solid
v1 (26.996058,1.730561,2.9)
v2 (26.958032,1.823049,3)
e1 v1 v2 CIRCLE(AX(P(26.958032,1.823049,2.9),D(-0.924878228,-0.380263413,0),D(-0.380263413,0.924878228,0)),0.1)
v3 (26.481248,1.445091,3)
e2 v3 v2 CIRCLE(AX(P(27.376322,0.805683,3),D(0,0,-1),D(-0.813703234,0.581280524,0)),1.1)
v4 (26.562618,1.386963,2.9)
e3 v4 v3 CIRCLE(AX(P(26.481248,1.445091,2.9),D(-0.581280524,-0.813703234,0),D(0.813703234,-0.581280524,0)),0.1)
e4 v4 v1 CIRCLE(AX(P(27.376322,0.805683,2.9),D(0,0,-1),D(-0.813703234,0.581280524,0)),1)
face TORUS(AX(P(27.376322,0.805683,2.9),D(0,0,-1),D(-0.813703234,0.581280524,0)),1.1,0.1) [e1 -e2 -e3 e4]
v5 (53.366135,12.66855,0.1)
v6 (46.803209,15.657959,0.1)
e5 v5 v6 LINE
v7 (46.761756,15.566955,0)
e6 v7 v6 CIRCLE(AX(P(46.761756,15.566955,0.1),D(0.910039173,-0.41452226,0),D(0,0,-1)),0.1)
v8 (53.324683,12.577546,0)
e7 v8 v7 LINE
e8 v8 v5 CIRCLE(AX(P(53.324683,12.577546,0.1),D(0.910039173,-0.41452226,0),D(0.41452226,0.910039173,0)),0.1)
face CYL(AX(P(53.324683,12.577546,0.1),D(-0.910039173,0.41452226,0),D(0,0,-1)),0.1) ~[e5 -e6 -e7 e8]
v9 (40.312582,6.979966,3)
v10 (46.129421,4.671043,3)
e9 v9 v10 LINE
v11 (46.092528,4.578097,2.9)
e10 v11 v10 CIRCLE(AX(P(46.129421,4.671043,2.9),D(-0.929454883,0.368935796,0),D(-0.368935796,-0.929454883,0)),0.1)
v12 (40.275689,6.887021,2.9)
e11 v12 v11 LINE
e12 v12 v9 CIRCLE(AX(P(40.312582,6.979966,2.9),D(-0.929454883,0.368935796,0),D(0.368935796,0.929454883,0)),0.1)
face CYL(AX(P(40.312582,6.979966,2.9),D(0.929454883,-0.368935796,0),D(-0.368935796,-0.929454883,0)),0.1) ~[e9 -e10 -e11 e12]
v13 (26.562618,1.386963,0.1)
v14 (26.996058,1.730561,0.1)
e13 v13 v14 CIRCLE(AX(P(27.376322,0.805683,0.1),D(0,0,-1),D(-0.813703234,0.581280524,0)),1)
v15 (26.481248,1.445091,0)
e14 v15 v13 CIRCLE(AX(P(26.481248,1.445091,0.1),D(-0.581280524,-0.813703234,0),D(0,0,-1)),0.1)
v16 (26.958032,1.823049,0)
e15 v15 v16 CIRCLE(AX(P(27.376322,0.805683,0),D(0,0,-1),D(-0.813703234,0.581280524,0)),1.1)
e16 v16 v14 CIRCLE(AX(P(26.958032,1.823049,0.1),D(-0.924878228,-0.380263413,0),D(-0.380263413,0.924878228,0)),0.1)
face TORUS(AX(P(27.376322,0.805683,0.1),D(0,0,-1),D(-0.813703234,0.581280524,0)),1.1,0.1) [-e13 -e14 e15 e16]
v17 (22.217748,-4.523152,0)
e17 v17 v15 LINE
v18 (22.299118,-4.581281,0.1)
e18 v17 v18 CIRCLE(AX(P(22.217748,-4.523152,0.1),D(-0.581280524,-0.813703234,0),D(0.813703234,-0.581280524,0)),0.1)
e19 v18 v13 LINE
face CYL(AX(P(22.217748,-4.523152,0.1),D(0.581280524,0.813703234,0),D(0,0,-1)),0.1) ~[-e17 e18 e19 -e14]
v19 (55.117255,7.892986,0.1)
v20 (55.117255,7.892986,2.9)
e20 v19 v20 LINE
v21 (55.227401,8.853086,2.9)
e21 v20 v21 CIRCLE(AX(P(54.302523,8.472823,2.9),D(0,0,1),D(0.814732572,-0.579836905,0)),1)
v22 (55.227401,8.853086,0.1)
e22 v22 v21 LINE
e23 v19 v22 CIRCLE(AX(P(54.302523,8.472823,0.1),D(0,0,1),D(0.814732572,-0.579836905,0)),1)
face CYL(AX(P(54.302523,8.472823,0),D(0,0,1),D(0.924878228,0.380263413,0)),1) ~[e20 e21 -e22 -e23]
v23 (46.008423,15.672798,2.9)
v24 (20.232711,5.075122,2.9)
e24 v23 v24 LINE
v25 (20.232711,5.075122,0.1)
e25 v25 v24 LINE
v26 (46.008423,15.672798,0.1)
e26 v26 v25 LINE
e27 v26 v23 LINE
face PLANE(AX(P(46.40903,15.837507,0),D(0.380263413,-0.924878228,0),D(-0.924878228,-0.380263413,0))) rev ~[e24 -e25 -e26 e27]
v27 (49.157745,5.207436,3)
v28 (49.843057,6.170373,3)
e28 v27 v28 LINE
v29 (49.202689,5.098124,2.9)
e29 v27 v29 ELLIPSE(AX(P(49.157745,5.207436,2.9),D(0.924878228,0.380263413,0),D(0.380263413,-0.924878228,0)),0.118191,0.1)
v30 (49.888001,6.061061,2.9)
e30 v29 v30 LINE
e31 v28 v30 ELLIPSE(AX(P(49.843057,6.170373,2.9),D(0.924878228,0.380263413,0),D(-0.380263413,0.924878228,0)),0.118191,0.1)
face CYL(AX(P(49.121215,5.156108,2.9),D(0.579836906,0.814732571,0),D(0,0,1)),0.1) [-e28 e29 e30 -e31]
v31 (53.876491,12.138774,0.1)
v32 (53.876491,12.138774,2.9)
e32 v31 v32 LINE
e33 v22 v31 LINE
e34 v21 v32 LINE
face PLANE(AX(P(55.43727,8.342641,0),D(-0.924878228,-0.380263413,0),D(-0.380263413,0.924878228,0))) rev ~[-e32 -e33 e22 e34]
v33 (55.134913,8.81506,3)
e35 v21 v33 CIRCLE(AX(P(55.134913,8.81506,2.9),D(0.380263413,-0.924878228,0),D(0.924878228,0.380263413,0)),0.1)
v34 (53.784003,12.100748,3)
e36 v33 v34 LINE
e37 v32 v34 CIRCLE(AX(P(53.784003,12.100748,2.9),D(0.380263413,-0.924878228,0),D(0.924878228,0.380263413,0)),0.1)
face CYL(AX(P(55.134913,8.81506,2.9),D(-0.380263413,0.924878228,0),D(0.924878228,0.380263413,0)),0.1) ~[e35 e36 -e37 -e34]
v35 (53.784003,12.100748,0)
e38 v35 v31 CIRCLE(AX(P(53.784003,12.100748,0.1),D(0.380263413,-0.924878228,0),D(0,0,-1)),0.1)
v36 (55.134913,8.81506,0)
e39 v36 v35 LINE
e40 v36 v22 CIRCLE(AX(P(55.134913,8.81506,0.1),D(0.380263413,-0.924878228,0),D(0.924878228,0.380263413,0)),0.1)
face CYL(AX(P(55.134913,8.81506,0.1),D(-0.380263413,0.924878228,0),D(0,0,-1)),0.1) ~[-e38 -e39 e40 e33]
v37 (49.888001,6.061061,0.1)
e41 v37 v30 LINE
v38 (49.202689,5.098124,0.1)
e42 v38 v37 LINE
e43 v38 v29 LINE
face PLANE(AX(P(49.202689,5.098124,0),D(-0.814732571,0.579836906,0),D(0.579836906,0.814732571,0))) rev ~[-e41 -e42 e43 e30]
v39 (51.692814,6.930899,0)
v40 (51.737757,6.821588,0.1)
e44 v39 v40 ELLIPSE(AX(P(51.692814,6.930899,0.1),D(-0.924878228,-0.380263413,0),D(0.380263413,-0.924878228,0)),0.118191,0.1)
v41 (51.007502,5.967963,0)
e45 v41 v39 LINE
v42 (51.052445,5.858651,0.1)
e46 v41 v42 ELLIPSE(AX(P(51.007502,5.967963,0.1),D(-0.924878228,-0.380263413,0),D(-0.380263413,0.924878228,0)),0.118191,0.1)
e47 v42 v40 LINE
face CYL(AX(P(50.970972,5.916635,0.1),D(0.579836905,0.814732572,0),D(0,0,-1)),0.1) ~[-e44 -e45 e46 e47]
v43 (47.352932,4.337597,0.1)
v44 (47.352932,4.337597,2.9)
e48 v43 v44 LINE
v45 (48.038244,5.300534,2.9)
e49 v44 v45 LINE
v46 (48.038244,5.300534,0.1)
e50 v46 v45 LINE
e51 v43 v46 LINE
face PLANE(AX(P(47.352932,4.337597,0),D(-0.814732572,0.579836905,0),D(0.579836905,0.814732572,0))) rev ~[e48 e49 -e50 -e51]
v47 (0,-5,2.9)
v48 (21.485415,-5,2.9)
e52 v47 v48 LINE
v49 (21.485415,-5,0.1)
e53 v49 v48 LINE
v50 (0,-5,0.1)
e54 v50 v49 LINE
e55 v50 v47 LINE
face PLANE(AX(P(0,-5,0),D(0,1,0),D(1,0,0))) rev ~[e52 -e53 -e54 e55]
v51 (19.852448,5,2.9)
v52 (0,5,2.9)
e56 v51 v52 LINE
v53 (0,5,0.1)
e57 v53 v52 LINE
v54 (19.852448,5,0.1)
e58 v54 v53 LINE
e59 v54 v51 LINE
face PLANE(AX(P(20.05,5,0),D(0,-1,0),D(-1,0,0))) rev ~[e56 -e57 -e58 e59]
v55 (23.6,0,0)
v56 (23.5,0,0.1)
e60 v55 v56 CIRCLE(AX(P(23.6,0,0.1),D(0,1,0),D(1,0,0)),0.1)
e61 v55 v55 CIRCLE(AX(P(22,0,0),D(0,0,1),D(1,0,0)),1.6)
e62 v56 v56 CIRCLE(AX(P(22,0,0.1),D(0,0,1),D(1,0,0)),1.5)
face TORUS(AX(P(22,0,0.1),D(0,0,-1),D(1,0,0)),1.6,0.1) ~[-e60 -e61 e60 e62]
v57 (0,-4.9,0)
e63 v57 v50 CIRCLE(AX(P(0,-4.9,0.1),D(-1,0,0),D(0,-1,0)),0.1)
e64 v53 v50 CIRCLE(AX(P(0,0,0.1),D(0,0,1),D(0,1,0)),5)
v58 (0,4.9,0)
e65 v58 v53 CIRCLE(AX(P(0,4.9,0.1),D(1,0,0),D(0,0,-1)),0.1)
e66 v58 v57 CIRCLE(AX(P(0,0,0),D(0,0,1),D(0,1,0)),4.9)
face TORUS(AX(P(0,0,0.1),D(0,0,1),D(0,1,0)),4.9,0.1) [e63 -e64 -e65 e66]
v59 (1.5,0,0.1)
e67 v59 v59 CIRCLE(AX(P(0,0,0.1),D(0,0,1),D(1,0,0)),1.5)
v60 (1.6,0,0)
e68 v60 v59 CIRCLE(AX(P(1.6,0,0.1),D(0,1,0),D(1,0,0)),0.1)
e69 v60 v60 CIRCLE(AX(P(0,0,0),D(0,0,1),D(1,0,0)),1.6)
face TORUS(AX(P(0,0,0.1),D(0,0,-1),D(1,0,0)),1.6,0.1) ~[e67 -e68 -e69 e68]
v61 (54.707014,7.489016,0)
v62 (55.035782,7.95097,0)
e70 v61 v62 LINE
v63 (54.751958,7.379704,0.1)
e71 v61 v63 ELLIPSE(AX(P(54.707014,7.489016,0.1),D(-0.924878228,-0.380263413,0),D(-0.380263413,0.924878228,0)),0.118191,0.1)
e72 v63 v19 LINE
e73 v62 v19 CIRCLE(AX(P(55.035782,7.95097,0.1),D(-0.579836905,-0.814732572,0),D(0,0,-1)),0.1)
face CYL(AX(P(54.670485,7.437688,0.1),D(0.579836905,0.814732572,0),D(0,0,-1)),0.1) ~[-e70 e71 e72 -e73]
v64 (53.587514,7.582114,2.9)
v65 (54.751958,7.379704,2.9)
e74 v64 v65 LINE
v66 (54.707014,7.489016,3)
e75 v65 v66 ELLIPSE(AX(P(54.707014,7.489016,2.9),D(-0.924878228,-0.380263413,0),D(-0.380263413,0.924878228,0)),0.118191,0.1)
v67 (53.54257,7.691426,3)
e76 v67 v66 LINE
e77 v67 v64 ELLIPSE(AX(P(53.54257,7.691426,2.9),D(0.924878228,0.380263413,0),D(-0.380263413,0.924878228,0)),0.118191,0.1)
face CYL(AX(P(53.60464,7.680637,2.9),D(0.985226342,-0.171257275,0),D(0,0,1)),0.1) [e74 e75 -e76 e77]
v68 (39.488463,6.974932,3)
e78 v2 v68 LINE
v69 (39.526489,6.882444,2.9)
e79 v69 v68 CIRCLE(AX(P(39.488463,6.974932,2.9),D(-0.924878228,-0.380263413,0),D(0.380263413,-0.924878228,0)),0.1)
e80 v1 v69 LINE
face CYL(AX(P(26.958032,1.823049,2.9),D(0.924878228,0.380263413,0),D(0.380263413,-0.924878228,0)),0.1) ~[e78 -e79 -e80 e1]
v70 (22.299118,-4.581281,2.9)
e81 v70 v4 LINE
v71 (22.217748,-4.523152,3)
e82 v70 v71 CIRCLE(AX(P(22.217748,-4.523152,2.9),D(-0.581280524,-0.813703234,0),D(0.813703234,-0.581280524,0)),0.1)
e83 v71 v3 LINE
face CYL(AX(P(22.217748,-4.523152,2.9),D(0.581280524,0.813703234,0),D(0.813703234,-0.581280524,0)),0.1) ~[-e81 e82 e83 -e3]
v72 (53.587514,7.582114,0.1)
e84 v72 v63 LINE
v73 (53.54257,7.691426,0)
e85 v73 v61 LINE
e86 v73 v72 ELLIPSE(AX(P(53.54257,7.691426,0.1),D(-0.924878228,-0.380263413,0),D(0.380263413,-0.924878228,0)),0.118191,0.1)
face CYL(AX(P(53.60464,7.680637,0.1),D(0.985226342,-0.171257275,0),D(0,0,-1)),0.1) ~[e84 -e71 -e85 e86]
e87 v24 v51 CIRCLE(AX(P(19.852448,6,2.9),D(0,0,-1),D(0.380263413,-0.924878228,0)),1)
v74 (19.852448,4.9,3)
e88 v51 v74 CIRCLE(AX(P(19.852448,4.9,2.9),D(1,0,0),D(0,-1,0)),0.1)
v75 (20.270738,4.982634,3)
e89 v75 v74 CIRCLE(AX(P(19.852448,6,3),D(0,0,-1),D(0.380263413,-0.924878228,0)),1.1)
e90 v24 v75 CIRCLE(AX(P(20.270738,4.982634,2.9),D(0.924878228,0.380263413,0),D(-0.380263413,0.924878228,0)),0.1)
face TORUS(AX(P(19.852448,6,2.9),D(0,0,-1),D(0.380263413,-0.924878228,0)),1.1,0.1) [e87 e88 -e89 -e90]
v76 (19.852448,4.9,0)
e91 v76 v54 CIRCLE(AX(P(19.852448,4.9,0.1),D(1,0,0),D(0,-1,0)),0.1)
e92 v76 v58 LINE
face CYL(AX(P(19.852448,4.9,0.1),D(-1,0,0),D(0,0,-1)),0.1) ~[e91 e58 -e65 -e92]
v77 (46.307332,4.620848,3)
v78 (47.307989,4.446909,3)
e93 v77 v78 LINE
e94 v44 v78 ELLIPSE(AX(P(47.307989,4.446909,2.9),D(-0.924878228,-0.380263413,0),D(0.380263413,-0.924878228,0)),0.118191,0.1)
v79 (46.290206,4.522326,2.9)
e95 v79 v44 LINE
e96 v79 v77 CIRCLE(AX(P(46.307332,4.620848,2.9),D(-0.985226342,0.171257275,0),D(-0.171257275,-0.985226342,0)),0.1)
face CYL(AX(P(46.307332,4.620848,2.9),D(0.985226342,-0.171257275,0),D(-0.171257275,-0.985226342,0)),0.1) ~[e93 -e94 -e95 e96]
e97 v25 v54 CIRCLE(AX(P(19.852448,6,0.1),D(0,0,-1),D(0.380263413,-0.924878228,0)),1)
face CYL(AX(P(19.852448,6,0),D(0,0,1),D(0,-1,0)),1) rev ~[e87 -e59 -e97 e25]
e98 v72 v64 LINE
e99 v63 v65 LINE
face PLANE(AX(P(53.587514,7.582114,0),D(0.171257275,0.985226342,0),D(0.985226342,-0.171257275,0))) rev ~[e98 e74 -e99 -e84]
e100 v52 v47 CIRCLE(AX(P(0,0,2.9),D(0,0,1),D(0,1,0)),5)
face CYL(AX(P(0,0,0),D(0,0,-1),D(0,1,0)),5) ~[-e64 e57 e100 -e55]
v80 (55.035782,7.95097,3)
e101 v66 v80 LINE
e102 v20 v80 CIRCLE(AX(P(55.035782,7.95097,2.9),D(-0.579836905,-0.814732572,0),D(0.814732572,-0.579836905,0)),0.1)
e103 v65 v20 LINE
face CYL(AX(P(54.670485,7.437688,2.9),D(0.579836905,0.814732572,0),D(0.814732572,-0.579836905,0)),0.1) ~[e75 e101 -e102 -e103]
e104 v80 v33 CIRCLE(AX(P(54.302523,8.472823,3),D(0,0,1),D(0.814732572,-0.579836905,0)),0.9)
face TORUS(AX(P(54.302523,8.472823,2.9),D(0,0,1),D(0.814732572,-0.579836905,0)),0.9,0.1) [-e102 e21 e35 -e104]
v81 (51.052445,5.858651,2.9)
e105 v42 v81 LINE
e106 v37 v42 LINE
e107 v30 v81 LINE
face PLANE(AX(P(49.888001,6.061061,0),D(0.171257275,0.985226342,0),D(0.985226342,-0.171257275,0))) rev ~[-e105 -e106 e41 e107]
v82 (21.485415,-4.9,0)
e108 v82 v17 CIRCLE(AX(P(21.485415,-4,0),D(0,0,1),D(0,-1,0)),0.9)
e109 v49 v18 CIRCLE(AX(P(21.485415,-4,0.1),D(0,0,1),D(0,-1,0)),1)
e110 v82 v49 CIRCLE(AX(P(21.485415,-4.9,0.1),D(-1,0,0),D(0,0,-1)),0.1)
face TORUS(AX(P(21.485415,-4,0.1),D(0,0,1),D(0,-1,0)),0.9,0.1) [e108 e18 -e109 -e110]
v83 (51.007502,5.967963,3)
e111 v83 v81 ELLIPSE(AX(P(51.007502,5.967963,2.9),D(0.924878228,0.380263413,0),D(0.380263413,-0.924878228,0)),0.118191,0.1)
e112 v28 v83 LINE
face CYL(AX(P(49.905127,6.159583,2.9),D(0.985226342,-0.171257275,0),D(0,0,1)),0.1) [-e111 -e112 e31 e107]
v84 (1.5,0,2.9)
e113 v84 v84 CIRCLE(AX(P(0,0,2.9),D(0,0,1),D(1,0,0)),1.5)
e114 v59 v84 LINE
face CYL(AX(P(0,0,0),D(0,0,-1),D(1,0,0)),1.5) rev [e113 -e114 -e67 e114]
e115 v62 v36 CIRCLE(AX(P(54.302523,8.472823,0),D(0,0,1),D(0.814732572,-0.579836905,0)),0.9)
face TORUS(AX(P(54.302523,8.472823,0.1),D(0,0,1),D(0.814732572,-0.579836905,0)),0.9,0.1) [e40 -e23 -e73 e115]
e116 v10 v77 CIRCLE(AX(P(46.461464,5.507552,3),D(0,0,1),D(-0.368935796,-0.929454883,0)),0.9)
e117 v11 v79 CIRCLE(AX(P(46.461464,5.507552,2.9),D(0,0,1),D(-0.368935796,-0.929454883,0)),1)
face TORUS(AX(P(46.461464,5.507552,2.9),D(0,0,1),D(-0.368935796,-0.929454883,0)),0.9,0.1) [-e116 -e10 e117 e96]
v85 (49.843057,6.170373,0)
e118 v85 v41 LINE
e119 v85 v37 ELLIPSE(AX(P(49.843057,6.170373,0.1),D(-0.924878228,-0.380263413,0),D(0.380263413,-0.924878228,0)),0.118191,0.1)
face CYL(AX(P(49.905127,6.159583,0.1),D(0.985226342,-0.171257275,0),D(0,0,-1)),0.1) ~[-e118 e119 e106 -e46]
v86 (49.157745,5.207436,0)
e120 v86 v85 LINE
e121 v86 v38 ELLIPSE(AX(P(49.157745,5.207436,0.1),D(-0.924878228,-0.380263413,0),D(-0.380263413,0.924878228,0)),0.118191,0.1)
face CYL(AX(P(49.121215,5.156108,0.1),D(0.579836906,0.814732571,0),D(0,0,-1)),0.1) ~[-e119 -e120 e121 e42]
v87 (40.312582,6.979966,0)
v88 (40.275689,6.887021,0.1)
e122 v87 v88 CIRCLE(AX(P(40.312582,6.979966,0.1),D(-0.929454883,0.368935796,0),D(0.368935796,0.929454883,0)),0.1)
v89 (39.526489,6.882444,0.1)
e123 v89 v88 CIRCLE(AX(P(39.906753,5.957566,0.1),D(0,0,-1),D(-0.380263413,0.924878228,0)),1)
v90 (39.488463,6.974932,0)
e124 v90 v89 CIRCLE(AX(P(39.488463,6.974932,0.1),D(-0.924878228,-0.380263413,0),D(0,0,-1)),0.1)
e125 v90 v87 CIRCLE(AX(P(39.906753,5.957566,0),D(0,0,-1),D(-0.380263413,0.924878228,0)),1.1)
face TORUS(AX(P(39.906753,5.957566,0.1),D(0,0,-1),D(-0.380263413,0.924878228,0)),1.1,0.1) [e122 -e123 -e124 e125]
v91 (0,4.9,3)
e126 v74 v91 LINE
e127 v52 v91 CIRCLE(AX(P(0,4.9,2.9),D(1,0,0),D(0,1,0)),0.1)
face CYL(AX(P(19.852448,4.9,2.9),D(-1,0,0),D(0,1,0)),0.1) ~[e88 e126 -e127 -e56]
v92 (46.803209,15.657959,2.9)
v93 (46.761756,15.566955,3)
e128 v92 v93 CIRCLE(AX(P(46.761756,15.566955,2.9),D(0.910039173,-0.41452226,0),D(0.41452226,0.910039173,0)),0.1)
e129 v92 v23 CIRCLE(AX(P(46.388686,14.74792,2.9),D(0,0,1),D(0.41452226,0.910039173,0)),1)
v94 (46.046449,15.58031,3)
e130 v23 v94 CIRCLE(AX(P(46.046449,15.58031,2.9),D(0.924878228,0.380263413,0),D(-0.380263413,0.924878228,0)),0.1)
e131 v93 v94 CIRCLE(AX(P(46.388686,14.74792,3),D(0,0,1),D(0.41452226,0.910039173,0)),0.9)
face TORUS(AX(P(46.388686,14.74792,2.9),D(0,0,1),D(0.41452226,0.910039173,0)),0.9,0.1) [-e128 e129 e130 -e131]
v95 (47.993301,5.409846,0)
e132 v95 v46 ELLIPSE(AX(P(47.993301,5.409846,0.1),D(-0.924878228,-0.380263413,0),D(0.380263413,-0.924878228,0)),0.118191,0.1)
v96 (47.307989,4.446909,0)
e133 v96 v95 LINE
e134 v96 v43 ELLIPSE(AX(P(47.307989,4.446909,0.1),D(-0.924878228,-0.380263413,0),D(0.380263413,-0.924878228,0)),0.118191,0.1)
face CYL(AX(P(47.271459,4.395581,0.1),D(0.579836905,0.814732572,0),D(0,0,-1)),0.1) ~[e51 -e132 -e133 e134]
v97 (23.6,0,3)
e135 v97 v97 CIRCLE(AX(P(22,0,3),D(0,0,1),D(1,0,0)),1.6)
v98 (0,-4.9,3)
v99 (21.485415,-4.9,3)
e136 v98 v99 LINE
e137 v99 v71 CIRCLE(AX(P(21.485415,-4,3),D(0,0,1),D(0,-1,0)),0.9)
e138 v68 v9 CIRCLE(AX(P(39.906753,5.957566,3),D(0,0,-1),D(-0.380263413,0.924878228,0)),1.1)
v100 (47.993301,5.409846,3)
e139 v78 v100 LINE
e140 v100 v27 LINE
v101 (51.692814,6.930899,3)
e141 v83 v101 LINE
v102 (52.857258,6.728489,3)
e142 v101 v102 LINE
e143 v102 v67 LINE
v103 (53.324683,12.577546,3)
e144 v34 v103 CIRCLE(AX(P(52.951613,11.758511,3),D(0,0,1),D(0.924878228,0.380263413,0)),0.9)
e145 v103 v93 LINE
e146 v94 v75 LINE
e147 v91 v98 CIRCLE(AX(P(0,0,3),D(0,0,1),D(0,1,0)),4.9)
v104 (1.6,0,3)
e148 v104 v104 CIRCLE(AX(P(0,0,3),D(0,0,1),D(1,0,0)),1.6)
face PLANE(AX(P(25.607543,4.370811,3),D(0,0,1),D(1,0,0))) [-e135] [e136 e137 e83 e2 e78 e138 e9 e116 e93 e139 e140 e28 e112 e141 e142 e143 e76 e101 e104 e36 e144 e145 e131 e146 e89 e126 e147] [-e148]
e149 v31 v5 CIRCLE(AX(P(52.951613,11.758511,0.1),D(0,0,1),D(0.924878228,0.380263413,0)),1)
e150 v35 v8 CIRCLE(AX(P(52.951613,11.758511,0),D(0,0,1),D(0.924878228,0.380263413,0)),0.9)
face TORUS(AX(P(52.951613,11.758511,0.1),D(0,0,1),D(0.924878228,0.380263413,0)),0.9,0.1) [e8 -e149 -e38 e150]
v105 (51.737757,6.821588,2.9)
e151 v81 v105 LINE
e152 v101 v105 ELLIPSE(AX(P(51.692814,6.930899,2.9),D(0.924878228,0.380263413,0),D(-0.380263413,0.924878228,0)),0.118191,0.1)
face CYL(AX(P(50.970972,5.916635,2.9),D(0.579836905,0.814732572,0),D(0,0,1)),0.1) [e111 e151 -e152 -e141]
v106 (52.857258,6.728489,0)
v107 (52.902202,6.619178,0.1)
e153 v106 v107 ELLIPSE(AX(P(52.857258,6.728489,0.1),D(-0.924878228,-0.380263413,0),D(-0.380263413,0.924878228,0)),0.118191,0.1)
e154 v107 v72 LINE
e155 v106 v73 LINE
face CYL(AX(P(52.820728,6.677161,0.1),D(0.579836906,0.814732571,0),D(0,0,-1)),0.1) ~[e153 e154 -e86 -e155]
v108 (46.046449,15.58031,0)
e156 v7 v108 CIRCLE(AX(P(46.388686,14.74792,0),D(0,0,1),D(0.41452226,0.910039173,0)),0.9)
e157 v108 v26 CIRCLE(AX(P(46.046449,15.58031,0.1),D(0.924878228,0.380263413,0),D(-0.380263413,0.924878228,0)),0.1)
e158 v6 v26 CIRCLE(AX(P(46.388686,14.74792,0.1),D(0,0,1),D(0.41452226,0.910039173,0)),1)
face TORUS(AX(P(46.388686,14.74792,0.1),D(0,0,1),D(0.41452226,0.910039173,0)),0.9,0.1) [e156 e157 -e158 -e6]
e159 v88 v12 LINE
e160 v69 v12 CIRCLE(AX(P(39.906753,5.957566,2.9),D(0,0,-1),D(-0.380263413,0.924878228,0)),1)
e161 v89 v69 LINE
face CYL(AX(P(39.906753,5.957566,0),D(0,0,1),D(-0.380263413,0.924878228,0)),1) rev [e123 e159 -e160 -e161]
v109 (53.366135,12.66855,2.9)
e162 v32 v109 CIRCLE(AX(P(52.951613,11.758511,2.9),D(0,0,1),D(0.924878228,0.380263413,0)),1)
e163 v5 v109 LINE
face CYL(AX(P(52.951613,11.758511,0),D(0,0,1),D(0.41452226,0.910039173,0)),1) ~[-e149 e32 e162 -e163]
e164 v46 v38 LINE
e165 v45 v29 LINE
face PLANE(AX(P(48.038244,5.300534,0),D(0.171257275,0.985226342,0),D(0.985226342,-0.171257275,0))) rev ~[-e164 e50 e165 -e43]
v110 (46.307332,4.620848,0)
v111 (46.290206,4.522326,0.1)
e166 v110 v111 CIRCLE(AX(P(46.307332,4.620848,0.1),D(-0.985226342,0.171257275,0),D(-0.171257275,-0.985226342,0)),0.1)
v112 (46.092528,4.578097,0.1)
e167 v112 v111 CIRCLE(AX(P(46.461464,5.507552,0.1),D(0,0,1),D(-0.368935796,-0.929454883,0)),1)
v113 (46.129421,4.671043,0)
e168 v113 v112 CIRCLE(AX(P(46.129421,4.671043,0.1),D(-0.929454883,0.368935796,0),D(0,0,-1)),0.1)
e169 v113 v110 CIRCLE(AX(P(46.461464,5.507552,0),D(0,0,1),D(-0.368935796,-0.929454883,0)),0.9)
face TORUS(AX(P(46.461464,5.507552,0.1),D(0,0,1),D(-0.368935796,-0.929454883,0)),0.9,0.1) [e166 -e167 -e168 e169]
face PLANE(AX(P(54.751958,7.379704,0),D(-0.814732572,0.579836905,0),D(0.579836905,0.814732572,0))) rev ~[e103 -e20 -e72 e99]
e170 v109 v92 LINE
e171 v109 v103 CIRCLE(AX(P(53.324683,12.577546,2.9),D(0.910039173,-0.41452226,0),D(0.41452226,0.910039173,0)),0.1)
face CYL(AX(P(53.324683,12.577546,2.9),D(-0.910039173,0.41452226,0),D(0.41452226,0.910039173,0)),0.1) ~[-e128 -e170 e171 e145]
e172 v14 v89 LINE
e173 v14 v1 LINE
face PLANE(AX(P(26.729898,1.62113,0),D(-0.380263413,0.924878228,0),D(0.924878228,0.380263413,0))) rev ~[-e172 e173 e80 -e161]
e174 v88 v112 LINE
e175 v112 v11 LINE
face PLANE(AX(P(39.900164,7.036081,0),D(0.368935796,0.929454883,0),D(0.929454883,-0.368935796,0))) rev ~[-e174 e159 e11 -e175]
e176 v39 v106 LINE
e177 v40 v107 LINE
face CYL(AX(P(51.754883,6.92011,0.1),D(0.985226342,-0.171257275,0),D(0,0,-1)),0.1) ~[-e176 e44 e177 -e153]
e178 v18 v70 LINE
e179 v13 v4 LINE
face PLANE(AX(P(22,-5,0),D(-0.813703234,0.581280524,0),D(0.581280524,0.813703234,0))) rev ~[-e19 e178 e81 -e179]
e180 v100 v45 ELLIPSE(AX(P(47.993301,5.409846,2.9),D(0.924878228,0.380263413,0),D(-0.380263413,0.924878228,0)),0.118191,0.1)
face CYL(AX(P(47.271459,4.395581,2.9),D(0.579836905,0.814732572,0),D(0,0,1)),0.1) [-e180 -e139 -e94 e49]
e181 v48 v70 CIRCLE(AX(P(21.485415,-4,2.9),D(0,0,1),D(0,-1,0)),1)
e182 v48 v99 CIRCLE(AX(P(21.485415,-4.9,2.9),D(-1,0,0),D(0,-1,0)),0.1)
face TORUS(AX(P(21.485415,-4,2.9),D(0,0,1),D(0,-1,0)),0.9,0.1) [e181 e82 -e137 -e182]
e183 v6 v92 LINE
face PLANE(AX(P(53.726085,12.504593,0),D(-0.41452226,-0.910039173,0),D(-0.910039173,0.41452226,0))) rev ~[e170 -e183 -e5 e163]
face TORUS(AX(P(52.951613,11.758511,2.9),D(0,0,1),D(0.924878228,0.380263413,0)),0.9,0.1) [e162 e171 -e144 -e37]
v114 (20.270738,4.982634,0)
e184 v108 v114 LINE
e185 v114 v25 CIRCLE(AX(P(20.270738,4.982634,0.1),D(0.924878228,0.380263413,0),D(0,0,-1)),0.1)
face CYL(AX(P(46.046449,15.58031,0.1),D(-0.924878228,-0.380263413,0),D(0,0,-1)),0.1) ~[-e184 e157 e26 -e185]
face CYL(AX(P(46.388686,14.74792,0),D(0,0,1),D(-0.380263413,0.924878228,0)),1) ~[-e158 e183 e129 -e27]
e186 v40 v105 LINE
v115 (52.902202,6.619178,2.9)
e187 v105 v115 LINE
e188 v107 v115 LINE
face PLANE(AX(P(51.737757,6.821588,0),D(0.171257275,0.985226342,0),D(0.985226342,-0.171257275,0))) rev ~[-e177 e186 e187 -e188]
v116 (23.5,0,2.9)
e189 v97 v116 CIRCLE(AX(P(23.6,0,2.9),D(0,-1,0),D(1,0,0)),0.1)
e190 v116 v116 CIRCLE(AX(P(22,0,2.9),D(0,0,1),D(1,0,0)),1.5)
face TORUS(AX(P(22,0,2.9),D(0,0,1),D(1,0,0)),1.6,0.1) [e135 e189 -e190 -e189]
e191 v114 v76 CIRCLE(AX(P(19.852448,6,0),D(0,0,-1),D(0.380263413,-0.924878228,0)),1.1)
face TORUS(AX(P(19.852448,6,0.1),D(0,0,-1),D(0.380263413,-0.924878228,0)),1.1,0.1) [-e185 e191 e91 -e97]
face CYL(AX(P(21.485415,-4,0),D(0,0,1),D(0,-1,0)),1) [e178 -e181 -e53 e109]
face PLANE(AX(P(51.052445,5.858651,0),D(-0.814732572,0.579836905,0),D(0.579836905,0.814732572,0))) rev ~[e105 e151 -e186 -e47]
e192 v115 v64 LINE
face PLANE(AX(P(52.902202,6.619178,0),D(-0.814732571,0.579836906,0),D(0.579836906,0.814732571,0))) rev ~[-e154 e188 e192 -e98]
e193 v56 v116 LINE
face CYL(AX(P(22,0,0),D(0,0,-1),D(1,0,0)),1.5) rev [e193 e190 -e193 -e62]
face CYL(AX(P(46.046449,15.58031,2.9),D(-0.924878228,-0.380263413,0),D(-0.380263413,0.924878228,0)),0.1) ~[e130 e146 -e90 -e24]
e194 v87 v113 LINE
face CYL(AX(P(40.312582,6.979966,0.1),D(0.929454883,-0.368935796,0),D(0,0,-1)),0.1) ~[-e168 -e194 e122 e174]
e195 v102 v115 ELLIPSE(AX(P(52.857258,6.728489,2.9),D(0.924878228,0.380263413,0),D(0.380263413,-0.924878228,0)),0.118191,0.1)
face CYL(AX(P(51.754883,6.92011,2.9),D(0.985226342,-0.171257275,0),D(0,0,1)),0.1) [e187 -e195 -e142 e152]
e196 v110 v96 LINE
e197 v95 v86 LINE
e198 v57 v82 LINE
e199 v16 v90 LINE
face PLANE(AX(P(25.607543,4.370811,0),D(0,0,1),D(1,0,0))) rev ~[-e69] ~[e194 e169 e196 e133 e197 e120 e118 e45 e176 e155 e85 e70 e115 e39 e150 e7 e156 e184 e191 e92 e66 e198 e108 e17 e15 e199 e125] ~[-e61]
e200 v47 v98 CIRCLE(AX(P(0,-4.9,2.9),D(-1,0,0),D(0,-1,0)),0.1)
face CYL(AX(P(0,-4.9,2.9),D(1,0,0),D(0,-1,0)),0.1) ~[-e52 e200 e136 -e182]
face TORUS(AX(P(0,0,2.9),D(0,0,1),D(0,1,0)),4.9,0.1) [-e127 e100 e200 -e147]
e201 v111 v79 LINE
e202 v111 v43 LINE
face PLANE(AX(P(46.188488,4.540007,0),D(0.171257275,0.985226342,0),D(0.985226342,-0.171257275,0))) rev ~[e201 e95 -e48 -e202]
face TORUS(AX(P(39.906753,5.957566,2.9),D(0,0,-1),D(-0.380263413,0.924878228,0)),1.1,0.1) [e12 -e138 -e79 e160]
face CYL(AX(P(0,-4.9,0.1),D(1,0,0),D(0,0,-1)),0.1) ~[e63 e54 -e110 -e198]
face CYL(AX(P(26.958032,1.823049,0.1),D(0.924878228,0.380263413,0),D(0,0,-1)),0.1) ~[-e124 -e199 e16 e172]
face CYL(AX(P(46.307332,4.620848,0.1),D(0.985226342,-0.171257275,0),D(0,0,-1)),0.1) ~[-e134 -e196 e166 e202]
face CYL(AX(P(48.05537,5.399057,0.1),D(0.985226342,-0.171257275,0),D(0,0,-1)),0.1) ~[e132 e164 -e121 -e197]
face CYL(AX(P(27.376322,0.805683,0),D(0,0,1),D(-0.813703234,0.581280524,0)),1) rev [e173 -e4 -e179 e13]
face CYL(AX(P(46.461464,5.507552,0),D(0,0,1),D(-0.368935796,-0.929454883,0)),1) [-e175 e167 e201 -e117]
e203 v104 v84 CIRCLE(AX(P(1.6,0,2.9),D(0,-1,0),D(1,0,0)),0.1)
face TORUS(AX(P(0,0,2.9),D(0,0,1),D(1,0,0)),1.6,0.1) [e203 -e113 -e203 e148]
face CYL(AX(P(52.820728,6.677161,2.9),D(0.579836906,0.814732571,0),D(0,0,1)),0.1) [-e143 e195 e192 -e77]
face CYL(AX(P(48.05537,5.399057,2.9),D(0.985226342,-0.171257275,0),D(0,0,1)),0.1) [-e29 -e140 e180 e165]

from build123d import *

# Parameters (mm, degrees)
SKETCH1_R           = 1.5
BOSS_EXTRUDE1_DEPTH = 3
FILLET1_R           = 1
FILLET2_R           = 0.1


with BuildPart() as part:
    # Sketch1 → Boss-Extrude1 (new body)
    with BuildSketch(Plane.XY):
        with BuildLine():
            Line((20.05, 5), (0, 5))
            ThreePointArc((0, 5), (-5, 0), (0, -5))
            Line((0, -5), (22, -5))
            Line((22, -5), (26.72989842, 1.621129525))
            Line((26.72989842, 1.621129525), (39.900164389, 7.036080522))
            Line((39.900164389, 7.036080522), (46.188488025, 4.540007042))
            Line((46.188488025, 4.540007042), (47.352932204, 4.337597171))
            Line((47.352932204, 4.337597171), (48.038244482, 5.300533868))
            Line((48.038244482, 5.300533868), (49.20268866, 5.098123997))
            Line((49.20268866, 5.098123997), (49.888000938, 6.061060693))
            Line((49.888000938, 6.061060693), (51.052445116, 5.858650822))
            Line((51.052445116, 5.858650822), (51.737757394, 6.821587519))
            Line((51.737757394, 6.821587519), (52.902201573, 6.619177648))
            Line((52.902201573, 6.619177648), (53.587513851, 7.582114344))
            Line((53.587513851, 7.582114344), (54.751958029, 7.379704473))
            Line((54.751958029, 7.379704473), (55.437270307, 8.34264117))
            Line((55.437270307, 8.34264117), (53.72608495, 12.504593197))
            Line((53.72608495, 12.504593197), (46.409029503, 15.837507263))
            Line((46.409029503, 15.837507263), (20.05, 5))
        make_face()
        Circle(SKETCH1_R, mode=Mode.SUBTRACT)
        with Locations((22, 0)):
            Circle(SKETCH1_R, mode=Mode.SUBTRACT)
    extrude(amount=BOSS_EXTRUDE1_DEPTH)

    # Fillet1
    fillet1_edges = [part.edges().sort_by_distance(p)[0] for p in [
        (22, -5, 1.5),
        (20.05, 5, 1.5),
        (46.409029503, 15.837507263, 1.5),
        (53.72608495, 12.504593197, 1.5),
        (55.437270307, 8.34264117, 1.5),
        (46.188488025, 4.540007042, 1.5),
        (39.900164389, 7.036080522, 1.5),
        (26.72989842, 1.621129525, 1.5),
    ]]
    fillet(fillet1_edges, radius=FILLET1_R)

    # Fillet2
    fillet2_edges = [part.edges().sort_by_distance(p)[0] for p in [
        (-5, 0, 3),
        (10.742707502, -5, 3),
        (-1.5, 0, 3),
        (10.742707502, -5, 0),
        (-5, 0, 0),
        (9.926224034, 5, 0),
        (54.934606654, 7.636345233, 0),
        (54.16973594, 7.480909409, 0),
        (53.244857712, 7.100645996, 0),
        (52.319979483, 6.720382583, 0),
        (51.395101255, 6.340119171, 0),
        (50.470223027, 5.959855758, 0),
        (49.545344799, 5.579592345, 0),
        (48.620466571, 5.199328932, 0),
        (47.695588343, 4.81906552, 0),
        (-1.5, 0, 0),
        (20.5, 0, 0),
        (47.695588343, 4.81906552, 3),
        (48.620466571, 5.199328932, 3),
        (49.545344799, 5.579592345, 3),
        (50.470223027, 5.959855758, 3),
        (51.395101255, 6.340119171, 3),
        (52.319979483, 6.720382583, 3),
        (46.821569256, 4.429961501, 0),
        (46.821569256, 4.429961501, 3),
        (24.430868365, -1.597158571, 0),
        (33.120567207, 10.373959881, 0),
        (50.084671969, 14.163254475, 0),
        (53.244857712, 7.100645996, 3),
        (54.551946118, 10.495930284, 0),
        (43.184108162, 5.732559038, 0),
        (33.261273822, 4.306502609, 0),
        (21.942973456, -4.889179544, 0),
        (46.407353605, 15.747745513, 0),
        (20.5, 0, 3),
        (53.671796386, 12.452294668, 0),
        (55.296006271, 8.358847414, 0),
        (46.189931352, 4.545122826, 0),
        (54.16973594, 7.480909409, 3),
        (43.184108162, 5.732559038, 3),
        (24.430868365, -1.597158571, 3),
        (33.261273822, 4.306502609, 3),
        (54.551946118, 10.495930284, 3),
        (50.084671969, 14.163254475, 3),
        (33.120567207, 10.373959881, 3),
        (54.934606654, 7.636345233, 3),
        (21.942973456, -4.889179544, 3),
        (46.407353605, 15.747745513, 3),
        (53.671796386, 12.452294668, 3),
        (55.296006271, 8.358847414, 3),
        (46.189931352, 4.545122826, 3),
        (20.046254378, 5.018960187, 0),
        (20.046254378, 5.018960187, 3),
        (26.755110061, 1.589325677, 0),
        (26.755110061, 1.589325677, 3),
        (39.900644128, 6.957547244, 0),
        (39.900644128, 6.957547244, 3),
        (9.926224034, 5, 3),
    ]]
    fillet(fillet2_edges, radius=FILLET2_R)


solid = part.part
